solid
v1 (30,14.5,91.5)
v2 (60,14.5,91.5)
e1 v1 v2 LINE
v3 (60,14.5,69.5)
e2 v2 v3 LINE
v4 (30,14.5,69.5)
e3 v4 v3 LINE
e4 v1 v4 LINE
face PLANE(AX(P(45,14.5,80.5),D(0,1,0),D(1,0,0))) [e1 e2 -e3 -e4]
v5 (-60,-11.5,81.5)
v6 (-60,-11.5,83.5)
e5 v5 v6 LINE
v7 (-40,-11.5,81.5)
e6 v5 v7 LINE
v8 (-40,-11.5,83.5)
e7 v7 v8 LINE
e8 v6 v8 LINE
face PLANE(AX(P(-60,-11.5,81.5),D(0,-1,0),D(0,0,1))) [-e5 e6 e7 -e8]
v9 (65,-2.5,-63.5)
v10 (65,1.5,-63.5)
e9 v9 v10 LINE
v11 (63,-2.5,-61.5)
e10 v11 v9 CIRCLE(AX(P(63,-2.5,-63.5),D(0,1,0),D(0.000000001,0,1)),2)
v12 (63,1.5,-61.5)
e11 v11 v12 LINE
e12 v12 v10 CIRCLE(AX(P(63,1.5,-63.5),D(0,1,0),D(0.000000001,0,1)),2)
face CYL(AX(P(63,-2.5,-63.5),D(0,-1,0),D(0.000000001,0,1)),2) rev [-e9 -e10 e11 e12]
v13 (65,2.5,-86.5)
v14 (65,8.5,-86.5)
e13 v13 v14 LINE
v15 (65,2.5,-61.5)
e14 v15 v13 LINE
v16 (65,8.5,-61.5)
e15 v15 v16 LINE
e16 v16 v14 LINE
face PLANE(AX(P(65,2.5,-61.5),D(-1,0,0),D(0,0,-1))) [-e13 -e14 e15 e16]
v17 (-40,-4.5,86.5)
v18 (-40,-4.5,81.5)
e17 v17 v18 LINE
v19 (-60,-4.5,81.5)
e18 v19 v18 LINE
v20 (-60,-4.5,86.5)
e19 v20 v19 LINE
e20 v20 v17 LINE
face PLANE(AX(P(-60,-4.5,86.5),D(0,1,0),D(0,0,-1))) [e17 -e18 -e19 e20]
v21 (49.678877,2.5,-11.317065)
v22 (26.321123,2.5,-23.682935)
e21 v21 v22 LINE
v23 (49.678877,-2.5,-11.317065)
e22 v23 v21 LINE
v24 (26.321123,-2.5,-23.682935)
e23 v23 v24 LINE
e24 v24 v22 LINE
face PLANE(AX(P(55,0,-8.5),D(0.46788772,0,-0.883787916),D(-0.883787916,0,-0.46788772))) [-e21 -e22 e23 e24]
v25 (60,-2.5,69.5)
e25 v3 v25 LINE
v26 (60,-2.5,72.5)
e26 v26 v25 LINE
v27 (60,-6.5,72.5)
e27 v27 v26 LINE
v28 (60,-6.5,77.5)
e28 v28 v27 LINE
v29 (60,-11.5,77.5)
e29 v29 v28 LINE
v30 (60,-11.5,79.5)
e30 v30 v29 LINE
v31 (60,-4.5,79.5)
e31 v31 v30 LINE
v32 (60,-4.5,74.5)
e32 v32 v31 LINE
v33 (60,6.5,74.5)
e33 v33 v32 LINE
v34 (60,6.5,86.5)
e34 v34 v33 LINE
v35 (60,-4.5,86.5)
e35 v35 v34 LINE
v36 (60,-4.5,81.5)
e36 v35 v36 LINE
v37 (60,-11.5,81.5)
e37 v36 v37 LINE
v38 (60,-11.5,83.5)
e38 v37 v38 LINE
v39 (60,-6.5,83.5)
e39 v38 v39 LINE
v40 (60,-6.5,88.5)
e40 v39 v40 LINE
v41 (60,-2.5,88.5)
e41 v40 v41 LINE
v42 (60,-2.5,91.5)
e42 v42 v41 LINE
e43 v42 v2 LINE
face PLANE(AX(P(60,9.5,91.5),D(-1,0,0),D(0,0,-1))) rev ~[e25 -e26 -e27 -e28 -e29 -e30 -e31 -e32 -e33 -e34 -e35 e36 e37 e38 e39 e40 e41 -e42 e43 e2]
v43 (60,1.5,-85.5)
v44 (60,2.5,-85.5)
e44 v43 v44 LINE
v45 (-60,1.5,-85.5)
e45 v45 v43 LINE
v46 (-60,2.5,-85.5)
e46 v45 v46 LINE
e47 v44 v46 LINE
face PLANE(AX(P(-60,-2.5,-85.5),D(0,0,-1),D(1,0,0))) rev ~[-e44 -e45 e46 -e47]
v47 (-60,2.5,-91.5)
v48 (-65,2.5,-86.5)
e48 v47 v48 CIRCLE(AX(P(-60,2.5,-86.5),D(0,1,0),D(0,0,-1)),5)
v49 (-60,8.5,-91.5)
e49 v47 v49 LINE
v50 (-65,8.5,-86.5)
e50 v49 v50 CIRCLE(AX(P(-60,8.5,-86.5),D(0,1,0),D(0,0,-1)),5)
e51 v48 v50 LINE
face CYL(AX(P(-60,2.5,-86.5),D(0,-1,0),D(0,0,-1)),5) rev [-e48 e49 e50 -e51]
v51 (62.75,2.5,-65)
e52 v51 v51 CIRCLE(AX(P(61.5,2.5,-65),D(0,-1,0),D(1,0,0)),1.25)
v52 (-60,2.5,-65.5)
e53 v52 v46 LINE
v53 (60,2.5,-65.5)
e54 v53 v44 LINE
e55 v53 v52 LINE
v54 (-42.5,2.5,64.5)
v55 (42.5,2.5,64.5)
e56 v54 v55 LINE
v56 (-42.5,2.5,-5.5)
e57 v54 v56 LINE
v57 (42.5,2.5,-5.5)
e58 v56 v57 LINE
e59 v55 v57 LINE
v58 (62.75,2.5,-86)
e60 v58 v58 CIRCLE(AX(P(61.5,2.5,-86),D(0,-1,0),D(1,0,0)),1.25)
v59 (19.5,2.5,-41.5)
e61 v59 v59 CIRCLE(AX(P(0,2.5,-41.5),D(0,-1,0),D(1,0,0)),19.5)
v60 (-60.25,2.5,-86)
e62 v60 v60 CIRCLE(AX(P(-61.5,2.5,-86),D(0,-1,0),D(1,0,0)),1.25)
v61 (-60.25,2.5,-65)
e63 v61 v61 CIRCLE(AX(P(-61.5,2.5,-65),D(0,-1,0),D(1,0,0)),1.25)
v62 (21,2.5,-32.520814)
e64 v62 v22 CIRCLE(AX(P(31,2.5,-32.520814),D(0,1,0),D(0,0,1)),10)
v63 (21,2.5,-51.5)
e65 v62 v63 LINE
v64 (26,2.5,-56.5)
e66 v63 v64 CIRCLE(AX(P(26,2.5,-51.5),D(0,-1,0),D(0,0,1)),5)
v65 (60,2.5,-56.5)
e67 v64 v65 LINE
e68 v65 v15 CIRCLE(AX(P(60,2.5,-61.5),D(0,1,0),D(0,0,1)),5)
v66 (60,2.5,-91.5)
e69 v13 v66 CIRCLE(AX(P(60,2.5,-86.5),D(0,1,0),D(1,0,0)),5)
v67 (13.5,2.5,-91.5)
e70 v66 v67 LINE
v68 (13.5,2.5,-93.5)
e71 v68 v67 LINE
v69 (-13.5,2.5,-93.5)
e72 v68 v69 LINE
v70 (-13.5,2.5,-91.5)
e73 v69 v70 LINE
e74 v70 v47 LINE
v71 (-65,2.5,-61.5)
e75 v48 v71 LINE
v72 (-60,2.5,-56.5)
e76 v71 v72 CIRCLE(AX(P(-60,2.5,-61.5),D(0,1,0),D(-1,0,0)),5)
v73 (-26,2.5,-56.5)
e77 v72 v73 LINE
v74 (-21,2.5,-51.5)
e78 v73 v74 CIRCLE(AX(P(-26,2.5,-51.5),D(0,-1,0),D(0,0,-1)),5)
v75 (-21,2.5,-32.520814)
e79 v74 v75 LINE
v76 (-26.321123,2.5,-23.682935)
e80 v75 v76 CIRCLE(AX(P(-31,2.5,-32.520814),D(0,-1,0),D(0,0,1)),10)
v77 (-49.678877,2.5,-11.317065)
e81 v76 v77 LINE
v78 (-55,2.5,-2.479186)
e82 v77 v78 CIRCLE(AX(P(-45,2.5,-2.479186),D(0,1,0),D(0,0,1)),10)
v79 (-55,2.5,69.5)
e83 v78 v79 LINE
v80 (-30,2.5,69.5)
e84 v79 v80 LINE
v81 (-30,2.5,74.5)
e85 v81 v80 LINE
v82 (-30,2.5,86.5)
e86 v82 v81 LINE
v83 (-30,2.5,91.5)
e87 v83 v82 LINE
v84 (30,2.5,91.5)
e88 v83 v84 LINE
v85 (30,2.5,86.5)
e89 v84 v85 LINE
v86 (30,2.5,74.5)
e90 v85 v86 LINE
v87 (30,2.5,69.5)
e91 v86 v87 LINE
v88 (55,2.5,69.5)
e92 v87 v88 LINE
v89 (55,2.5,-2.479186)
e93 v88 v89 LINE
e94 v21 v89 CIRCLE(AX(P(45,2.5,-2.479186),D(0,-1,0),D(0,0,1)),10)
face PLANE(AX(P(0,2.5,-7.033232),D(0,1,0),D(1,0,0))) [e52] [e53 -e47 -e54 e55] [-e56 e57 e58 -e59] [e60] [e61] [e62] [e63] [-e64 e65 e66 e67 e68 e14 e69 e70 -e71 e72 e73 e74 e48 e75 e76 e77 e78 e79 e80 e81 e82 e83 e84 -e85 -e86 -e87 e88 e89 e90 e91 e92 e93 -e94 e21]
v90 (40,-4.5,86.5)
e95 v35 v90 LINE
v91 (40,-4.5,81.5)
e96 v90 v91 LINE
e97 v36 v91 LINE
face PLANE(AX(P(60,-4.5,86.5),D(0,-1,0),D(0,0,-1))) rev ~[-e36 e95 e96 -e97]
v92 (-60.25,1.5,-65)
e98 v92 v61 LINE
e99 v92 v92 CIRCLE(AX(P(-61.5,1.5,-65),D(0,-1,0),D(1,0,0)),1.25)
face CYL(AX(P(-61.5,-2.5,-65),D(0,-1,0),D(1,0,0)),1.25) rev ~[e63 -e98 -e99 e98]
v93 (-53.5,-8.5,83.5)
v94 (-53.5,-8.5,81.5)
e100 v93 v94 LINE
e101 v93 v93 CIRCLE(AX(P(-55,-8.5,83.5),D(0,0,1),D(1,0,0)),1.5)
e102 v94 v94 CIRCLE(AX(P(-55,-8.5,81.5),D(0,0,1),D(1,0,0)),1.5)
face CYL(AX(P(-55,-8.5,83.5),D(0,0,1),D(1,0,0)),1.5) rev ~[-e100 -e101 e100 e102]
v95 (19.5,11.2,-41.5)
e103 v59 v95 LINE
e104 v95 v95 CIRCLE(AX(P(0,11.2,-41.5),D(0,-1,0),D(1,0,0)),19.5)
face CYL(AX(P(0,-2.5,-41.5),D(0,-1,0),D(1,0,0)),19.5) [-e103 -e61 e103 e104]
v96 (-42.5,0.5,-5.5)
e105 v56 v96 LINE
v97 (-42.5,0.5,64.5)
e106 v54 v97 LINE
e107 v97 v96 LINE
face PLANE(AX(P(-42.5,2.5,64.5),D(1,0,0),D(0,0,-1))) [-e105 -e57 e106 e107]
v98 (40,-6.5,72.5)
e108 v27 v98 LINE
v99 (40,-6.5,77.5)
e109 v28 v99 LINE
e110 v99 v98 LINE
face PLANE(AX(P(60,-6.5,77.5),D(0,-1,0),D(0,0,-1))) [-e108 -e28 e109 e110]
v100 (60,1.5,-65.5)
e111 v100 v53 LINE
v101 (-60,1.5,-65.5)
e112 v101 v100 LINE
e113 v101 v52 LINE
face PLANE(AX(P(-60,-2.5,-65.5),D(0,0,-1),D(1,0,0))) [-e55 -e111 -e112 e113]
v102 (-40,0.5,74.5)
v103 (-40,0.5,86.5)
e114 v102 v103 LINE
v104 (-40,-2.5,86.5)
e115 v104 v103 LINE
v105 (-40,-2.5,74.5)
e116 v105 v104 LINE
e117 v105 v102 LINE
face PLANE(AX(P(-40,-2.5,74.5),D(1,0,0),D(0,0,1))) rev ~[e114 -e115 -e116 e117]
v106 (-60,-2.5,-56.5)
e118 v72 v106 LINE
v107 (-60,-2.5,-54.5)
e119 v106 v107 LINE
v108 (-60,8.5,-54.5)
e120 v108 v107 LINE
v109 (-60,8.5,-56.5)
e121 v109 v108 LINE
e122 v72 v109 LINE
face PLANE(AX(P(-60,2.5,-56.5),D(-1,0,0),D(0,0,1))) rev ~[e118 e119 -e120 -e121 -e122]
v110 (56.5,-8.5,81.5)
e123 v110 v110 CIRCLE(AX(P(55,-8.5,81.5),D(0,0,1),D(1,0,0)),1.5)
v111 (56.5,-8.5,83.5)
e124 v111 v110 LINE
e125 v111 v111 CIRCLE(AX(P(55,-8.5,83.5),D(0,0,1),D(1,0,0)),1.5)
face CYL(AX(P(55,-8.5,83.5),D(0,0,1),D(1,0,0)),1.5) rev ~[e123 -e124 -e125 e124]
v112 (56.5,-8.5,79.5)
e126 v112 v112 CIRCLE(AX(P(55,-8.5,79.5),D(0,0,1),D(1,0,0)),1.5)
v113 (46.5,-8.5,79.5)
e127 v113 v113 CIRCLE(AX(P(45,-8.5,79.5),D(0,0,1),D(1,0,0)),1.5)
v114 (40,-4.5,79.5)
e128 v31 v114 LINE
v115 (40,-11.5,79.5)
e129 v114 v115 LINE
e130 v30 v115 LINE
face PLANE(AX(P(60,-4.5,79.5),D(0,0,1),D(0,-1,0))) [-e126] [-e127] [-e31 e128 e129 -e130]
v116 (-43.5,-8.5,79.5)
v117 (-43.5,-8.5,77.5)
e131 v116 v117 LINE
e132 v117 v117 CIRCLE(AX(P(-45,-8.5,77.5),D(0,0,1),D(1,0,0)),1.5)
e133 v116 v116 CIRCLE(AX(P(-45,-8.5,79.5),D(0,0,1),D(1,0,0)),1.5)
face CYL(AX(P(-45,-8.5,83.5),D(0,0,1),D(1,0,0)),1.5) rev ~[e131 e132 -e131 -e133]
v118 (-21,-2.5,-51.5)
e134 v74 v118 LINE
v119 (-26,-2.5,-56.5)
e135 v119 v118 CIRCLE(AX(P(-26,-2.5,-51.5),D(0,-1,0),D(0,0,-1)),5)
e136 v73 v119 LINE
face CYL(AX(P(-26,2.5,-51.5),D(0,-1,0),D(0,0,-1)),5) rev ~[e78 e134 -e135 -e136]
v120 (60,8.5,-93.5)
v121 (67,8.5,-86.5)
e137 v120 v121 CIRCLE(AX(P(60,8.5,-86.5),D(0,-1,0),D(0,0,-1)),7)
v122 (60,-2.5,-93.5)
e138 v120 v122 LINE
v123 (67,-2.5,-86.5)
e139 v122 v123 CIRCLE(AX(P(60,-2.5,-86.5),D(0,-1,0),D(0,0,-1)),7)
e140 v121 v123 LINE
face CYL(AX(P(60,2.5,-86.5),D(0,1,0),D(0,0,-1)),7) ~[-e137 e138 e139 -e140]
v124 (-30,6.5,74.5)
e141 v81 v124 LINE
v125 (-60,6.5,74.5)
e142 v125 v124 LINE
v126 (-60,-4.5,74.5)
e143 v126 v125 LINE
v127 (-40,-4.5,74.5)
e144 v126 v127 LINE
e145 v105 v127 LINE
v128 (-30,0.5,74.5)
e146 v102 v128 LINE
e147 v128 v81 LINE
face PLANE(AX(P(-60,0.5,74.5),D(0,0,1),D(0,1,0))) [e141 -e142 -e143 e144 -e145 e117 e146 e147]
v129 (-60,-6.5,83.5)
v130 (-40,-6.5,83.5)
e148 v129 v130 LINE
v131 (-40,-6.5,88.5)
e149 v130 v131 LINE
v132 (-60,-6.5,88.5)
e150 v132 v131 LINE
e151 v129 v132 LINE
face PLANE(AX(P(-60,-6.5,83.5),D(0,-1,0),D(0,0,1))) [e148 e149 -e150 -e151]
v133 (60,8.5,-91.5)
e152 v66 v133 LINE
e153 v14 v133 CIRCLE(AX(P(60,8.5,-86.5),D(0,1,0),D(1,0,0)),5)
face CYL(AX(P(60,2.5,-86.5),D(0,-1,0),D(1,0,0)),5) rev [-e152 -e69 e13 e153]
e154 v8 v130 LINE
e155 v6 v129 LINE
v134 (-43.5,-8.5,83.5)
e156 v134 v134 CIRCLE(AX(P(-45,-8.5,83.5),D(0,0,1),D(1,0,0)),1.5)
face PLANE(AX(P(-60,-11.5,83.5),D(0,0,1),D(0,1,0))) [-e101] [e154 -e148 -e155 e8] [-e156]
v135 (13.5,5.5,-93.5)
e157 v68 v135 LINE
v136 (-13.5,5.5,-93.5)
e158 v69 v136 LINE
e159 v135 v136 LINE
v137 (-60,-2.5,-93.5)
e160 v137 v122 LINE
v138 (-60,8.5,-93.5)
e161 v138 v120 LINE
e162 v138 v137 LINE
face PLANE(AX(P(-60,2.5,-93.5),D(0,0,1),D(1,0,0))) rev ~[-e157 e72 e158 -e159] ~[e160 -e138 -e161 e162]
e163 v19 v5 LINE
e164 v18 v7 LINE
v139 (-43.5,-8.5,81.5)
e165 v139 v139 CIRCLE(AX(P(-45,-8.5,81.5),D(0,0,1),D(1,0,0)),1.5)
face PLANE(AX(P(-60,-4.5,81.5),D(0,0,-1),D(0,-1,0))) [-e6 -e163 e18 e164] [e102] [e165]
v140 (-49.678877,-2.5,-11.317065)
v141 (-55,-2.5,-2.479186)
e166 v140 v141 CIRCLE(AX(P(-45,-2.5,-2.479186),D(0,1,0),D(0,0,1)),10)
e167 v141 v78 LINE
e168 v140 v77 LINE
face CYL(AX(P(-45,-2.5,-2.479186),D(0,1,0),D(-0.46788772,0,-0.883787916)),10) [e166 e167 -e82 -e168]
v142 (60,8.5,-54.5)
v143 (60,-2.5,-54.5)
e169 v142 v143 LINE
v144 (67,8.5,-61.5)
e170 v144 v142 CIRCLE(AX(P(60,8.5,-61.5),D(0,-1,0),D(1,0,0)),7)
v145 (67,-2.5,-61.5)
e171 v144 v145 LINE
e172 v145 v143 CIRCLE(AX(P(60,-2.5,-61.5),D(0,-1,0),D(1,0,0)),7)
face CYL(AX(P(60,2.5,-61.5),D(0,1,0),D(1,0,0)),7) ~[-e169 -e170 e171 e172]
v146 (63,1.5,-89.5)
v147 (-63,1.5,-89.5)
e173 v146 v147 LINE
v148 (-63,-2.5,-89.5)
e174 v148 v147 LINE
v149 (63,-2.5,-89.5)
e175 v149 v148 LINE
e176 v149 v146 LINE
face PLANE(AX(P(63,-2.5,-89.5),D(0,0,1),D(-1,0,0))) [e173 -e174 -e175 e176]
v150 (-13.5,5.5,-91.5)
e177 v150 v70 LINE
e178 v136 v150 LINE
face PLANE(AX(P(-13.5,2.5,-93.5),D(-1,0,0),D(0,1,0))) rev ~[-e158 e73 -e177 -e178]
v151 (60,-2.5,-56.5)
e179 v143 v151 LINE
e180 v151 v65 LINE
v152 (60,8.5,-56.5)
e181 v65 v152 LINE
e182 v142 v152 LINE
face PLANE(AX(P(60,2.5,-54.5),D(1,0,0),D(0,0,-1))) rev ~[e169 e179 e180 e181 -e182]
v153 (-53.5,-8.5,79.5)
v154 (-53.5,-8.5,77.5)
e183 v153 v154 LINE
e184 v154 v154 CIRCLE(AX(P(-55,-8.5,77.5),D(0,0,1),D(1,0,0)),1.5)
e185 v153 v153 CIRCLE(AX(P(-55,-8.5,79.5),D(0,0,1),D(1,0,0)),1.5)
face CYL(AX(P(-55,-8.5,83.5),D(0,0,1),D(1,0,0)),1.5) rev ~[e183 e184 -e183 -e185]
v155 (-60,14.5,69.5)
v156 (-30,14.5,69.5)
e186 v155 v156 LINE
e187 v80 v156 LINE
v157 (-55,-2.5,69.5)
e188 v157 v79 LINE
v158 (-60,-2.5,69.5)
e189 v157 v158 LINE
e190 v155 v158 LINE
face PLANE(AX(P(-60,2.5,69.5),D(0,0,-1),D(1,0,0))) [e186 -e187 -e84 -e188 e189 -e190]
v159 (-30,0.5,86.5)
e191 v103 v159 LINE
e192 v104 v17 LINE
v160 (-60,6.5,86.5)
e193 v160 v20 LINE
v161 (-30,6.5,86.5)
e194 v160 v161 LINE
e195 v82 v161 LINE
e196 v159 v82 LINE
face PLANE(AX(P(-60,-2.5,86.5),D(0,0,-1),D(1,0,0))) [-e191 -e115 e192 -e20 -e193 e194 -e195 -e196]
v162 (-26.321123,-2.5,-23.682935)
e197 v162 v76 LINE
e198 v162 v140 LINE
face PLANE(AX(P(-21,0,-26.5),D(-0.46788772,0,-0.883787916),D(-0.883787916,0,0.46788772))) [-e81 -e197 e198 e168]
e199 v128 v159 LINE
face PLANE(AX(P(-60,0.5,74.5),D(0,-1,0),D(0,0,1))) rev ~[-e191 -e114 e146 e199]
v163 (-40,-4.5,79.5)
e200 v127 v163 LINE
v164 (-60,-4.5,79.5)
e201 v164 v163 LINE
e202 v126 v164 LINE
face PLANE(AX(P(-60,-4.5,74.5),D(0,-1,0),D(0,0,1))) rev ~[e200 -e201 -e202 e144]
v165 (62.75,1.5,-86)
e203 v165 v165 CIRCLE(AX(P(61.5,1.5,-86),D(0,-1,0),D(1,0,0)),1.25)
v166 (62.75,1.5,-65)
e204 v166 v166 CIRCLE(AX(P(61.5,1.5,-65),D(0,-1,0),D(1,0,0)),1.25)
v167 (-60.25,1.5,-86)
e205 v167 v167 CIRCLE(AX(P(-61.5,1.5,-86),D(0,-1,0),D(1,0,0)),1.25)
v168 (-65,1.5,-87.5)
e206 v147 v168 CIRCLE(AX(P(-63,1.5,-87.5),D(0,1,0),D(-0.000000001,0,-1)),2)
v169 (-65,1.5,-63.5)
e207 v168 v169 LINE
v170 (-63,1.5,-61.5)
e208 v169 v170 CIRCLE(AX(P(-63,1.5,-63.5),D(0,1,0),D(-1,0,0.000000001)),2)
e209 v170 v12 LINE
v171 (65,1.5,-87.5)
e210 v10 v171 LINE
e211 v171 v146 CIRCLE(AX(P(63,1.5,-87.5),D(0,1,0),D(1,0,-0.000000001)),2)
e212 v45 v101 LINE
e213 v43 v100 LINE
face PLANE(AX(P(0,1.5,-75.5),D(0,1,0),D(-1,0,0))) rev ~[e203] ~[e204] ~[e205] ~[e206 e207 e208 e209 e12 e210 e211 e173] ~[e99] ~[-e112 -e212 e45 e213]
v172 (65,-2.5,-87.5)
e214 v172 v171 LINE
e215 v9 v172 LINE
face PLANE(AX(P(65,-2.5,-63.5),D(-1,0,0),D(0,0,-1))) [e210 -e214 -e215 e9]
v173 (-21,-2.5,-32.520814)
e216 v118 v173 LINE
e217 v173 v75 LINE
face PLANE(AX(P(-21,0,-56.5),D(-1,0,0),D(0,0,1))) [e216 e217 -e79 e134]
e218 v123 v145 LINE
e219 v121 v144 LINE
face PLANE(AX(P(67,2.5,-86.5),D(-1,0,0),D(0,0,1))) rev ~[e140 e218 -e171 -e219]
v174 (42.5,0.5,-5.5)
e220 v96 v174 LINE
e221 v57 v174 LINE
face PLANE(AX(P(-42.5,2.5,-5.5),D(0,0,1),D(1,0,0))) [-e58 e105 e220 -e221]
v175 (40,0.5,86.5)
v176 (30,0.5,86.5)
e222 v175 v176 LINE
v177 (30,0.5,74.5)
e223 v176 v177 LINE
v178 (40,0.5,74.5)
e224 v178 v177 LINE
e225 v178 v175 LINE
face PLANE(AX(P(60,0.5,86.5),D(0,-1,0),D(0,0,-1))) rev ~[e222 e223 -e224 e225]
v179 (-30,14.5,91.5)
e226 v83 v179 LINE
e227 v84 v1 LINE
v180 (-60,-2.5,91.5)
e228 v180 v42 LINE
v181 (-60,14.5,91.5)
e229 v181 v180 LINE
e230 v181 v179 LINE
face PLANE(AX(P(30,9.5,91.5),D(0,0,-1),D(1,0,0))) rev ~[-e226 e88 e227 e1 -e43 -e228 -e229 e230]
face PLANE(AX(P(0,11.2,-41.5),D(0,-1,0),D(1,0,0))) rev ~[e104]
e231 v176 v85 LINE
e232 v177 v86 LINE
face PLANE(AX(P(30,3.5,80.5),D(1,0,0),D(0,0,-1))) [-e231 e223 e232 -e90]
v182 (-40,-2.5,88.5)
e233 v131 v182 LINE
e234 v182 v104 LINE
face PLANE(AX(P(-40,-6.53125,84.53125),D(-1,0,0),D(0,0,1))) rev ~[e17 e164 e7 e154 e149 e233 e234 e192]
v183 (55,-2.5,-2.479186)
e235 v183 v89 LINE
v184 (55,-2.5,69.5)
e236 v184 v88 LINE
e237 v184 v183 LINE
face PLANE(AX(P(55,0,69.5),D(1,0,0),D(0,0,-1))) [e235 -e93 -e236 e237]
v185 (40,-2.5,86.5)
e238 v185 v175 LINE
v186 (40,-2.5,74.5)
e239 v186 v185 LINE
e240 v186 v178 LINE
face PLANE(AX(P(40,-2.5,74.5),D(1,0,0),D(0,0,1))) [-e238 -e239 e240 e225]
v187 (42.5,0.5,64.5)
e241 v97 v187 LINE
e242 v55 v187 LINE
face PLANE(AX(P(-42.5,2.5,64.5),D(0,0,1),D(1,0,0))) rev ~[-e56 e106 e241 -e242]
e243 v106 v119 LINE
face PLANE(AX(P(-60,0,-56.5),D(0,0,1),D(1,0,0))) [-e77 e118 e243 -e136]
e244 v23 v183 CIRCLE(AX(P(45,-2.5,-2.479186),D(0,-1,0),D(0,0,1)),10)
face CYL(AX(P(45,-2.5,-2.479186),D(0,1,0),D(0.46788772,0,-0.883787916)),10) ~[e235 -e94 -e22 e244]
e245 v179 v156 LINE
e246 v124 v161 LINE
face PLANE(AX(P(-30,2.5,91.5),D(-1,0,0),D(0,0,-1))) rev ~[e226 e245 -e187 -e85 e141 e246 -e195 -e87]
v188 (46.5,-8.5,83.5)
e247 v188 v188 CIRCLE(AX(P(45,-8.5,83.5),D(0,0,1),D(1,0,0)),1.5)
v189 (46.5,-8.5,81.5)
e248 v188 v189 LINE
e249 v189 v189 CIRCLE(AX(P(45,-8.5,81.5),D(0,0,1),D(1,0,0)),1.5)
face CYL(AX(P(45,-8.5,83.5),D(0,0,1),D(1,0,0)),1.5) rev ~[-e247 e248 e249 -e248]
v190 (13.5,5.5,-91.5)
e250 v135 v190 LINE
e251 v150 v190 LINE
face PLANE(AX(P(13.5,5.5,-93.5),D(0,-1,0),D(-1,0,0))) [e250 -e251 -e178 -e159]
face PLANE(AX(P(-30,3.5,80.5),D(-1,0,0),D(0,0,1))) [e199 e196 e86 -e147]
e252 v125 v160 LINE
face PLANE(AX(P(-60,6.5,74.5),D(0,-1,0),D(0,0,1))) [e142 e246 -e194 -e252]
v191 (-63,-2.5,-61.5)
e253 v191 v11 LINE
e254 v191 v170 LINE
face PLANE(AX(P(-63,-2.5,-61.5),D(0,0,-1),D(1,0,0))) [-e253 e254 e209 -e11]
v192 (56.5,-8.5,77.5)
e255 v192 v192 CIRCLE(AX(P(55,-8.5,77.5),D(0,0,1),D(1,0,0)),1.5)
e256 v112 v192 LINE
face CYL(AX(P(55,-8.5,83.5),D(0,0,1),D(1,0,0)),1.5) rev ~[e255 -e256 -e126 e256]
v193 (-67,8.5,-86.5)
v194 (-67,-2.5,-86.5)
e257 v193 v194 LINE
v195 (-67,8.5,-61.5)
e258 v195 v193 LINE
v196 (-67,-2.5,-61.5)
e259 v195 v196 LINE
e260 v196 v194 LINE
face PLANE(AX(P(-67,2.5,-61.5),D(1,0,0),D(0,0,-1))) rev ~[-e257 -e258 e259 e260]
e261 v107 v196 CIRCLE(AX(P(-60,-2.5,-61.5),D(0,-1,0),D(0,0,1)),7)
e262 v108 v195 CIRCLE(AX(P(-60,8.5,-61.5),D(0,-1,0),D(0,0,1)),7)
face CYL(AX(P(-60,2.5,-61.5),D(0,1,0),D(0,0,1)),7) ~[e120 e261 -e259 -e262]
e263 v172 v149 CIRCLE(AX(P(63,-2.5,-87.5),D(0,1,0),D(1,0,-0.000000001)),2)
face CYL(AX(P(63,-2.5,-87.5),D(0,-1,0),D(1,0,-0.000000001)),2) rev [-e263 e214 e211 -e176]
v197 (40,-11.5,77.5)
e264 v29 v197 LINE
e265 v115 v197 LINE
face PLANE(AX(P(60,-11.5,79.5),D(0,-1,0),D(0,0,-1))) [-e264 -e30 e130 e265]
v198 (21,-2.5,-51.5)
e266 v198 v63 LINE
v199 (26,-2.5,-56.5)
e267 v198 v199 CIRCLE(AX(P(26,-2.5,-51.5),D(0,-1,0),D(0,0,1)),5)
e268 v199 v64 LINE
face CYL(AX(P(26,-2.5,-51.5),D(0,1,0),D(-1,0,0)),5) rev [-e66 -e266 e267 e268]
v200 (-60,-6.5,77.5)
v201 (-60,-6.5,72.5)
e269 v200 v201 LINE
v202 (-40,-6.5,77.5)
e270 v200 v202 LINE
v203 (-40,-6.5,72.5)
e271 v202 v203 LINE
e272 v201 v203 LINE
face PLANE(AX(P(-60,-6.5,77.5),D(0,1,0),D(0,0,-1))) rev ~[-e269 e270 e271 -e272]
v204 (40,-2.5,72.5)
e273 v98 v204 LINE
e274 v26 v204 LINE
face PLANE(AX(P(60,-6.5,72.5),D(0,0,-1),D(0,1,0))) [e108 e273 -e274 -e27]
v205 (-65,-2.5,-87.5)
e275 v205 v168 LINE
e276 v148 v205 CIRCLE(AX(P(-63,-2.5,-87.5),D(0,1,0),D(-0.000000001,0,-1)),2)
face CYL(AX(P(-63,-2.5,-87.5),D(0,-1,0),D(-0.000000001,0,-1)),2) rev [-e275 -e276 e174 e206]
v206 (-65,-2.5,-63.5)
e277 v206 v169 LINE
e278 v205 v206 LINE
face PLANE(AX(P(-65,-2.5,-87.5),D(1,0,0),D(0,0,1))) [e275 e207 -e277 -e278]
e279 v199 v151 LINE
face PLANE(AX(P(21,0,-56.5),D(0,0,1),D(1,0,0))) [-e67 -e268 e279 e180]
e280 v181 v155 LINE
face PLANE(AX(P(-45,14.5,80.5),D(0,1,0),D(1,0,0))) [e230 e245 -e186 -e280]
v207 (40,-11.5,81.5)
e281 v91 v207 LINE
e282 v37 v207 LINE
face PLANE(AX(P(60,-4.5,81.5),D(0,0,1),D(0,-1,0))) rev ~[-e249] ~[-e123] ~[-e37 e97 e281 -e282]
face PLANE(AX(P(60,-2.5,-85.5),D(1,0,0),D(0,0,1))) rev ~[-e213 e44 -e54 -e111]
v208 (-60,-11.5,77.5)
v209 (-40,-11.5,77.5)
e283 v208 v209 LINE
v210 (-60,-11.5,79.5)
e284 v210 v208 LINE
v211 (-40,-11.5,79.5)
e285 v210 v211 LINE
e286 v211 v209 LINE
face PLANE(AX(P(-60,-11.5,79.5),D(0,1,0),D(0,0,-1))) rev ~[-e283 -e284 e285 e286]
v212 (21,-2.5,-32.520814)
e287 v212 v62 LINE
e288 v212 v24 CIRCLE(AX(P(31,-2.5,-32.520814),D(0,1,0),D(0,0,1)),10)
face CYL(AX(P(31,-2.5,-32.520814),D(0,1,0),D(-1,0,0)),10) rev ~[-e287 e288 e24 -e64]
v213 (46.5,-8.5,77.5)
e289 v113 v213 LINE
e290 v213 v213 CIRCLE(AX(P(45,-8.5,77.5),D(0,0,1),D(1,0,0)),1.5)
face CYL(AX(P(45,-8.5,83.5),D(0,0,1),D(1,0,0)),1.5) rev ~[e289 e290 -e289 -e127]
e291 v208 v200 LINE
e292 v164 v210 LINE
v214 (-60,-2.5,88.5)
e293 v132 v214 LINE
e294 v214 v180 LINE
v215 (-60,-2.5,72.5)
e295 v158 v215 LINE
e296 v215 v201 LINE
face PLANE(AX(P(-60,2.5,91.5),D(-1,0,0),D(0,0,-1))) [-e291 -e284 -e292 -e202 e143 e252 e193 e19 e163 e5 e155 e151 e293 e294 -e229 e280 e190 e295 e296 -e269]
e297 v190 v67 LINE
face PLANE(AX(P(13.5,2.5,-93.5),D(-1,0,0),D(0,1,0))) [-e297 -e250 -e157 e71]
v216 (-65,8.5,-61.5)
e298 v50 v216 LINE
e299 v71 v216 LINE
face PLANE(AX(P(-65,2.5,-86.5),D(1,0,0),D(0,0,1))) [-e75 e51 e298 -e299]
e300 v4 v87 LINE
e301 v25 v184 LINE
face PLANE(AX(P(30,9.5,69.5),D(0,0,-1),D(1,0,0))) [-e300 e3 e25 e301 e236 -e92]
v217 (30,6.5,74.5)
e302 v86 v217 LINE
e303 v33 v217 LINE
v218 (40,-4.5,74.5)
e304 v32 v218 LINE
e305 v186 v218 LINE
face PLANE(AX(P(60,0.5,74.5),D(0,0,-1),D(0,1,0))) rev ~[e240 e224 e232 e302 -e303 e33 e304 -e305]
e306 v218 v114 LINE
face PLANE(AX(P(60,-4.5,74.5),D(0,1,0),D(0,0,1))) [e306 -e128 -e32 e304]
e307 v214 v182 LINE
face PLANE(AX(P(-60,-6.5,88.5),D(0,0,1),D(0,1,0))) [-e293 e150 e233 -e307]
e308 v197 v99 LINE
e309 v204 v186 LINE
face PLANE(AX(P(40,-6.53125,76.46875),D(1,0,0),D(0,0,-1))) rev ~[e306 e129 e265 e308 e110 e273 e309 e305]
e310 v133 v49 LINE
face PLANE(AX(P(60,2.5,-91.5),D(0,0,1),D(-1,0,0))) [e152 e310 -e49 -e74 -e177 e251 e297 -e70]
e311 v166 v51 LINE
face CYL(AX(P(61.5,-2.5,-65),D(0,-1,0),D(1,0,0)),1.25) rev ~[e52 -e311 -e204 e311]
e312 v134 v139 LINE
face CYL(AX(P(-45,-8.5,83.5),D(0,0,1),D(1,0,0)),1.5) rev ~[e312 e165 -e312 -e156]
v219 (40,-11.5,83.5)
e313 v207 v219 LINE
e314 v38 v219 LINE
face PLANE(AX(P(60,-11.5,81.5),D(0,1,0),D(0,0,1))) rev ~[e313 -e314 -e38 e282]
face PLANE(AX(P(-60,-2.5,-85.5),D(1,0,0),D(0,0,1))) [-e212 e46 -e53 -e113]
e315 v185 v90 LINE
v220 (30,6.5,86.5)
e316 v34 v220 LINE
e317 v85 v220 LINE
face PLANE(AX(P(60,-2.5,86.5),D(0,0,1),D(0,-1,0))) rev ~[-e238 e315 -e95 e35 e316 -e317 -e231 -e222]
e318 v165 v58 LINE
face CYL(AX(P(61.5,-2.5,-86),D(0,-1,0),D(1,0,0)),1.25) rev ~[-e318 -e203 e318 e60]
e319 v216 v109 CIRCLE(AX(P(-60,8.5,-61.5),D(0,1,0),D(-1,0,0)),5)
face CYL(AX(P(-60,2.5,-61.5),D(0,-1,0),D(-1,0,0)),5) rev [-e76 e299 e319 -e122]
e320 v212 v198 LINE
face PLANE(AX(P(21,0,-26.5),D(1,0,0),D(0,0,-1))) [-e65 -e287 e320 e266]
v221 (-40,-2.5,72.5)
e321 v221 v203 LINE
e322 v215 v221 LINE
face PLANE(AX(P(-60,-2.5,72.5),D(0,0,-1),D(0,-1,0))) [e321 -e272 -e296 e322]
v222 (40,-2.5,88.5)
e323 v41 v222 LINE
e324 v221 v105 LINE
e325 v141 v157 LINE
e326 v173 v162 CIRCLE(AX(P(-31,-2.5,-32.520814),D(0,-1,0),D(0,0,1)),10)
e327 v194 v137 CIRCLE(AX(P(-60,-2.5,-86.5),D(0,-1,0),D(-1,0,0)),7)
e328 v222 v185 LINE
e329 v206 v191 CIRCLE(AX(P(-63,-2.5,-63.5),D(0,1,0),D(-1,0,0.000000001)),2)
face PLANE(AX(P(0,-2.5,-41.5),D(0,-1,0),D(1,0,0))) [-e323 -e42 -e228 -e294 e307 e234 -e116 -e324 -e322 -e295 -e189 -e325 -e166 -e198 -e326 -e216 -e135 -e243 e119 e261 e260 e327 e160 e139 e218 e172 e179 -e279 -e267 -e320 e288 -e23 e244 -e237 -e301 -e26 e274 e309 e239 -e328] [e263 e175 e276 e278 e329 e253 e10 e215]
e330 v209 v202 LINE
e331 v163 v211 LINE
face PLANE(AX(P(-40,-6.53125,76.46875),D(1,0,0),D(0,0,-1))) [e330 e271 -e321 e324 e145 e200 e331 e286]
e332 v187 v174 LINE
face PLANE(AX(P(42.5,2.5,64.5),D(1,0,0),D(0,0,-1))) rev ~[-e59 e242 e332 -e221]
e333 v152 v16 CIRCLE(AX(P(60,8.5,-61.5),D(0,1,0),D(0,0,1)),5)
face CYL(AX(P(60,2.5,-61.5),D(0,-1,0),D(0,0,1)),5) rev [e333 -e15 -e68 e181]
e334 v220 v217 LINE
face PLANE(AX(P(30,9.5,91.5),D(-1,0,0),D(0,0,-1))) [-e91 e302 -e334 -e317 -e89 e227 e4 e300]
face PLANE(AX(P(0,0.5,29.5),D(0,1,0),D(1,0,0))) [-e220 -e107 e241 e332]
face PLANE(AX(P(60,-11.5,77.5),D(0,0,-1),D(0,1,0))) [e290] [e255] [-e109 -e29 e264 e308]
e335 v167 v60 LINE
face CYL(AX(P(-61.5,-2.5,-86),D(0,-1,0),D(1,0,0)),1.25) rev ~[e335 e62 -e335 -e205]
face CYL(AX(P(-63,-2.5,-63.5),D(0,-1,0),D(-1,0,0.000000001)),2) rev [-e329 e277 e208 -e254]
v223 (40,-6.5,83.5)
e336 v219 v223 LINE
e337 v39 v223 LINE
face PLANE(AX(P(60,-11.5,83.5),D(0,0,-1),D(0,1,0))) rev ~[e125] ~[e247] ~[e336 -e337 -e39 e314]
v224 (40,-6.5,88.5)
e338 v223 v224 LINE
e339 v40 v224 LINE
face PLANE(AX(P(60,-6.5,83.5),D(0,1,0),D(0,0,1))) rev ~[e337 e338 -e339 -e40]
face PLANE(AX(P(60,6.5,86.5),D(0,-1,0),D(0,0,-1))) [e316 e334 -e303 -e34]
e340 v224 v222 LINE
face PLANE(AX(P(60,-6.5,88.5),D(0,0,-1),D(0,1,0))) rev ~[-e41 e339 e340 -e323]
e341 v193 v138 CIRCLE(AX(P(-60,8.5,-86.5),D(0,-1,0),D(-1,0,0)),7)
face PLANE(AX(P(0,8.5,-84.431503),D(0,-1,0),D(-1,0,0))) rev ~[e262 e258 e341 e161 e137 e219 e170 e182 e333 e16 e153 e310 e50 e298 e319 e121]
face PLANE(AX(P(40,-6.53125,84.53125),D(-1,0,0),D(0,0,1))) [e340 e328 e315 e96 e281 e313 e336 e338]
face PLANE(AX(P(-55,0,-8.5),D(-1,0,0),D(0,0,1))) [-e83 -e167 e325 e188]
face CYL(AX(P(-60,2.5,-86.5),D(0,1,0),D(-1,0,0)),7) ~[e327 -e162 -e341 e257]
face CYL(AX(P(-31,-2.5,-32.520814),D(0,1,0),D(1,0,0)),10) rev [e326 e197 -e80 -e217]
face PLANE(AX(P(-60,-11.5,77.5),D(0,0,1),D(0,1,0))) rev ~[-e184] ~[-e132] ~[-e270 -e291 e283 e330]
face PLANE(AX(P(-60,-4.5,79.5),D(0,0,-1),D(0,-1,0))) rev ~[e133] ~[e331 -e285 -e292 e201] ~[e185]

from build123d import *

# Parameters (mm, degrees)
BOSS_EXTRUDE1_DEPTH      = 2.5
SKETCH2_W                = 20
SKETCH2_H                = 12
CUT_EXTRUDE1_DEPTH       = 3
BOSS_EXTRUDE3_DEPTH      = 6
BOSS_EXTRUDE3_DEPTH_BACK = 5
BOSS_EXTRUDE4_DEPTH      = 20
BOSS_EXTRUDE5_DEPTH      = 20
SKETCH14_R               = 1.5
CUT_EXTRUDE6_DEPTH       = 178
SKETCH11_W               = 27
SKETCH11_H               = 3
CUT_EXTRUDE7_DEPTH       = 10
SKETCH15_R               = 1.25
SKETCH15_W               = 120
SKETCH15_H               = 20
CUT_EXTRUDE8_DEPTH       = 12
SKETCH15_3_R             = 1.25
SKETCH15_3_W             = 120
SKETCH15_3_H             = 20
CUT_EXTRUDE9_DEPTH       = 4
SKETCH17_W               = 30
SKETCH17_H               = 22
BOSS_EXTRUDE6_DEPTH      = 7
SKETCH18_W               = 12
SKETCH18_H               = 6
CUT_EXTRUDE11_DEPTH      = 30
SKETCH19_W               = 12
SKETCH19_H               = 6
CUT_EXTRUDE12_DEPTH      = 30
SKETCH16_W               = 85
SKETCH16_H               = 70
CUT_EXTRUDE13_DEPTH      = 2
SKETCH20_R               = 19.5
BOSS_EXTRUDE7_DEPTH      = 13.7
FILLET1_R                = 10
FILLET2_R                = 5
SKETCH21_W               = 30
SKETCH21_H               = 22
BOSS_EXTRUDE8_DEPTH      = 5


with BuildPart() as part:
    # Sketch1 → Boss-Extrude1 (new body, symmetric)
    with BuildSketch(Plane(origin=(0, 0, 0), x_dir=(1, 0, 0), z_dir=(0, 1, 0))):
        with BuildLine():
            Line((-21, 56.5), (-21, 26.5))
            Line((-21, 26.5), (-55, 8.5))
            Line((-55, 8.5), (-55, -69.5))
            Line((-55, -69.5), (-60, -69.5))
            Line((-60, -69.5), (-60, -91.5))
            Line((-60, -91.5), (60, -91.5))
            Line((60, -91.5), (60, -69.5))
            Line((60, -69.5), (55, -69.5))
            Line((55, -69.5), (55, 8.5))
            Line((55, 8.5), (21, 26.5))
            Line((21, 26.5), (21, 56.5))
            Line((21, 56.5), (60, 56.5))
            ThreePointArc((60, 56.5), (63.535533906, 57.964466094), (65, 61.5))
            Line((65, 61.5), (65, 86.5))
            ThreePointArc((65, 86.5), (63.535533906, 90.035533906), (60, 91.5))
            Line((60, 91.5), (-60, 91.5))
            ThreePointArc((-60, 91.5), (-63.535533906, 90.035533906), (-65, 86.5))
            Line((-65, 86.5), (-65, 61.5))
            ThreePointArc((-65, 61.5), (-63.535533906, 57.964466094), (-60, 56.5))
            Line((-60, 56.5), (-21, 56.5))
        make_face()
    extrude(amount=BOSS_EXTRUDE1_DEPTH, both=True)

    # Sketch2 → Cut-Extrude1 (cut)
    with BuildSketch(Plane.XZ.offset(2.5)):
        with Locations((-50, 80.5)):
            Rectangle(SKETCH2_W, SKETCH2_H)
        with Locations((50, 80.5)):
            Rectangle(SKETCH2_W, SKETCH2_H)
    extrude(amount=-CUT_EXTRUDE1_DEPTH, mode=Mode.SUBTRACT)

    # Sketch5 → Boss-Extrude3 (add, two sides)
    with BuildSketch(Plane(origin=(0, 2.5, 0), x_dir=(1, 0, 0), z_dir=(0, 1, 0))) as boss_extrude3_sk:
        with BuildLine():
            Line((-60, 56.5), (-60, 54.5))
            ThreePointArc((-60, 54.5), (-64.949747468, 56.550252532), (-67, 61.5))
            Line((-67, 61.5), (-67, 86.5))
            ThreePointArc((-67, 86.5), (-64.949747468, 91.449747468), (-60, 93.5))
            Line((-60, 93.5), (60, 93.5))
            ThreePointArc((60, 93.5), (64.949747468, 91.449747468), (67, 86.5))
            Line((67, 86.5), (67, 61.5))
            ThreePointArc((67, 61.5), (64.949747468, 56.550252532), (60, 54.5))
            Line((60, 54.5), (60, 56.5))
            ThreePointArc((60, 56.5), (63.535533906, 57.964466094), (65, 61.5))
            Line((65, 61.5), (65, 86.5))
            ThreePointArc((65, 86.5), (63.535533906, 90.035533906), (60, 91.5))
            Line((60, 91.5), (-60, 91.5))
            ThreePointArc((-60, 91.5), (-63.535533906, 90.035533906), (-65, 86.5))
            Line((-65, 86.5), (-65, 61.5))
            ThreePointArc((-65, 61.5), (-63.535533906, 57.964466094), (-60, 56.5))
        make_face()
    extrude(amount=BOSS_EXTRUDE3_DEPTH)
    extrude(boss_extrude3_sk.sketch, amount=-BOSS_EXTRUDE3_DEPTH_BACK)

    # Sketch12 → Boss-Extrude4 (add)
    with BuildSketch(Plane.ZY.offset(60)):
        Polygon((74.5, -2.5), (74.5, -4.5), (79.5, -4.5), (79.5, -11.5), (77.5, -11.5), (77.5, -6.5), (72.5, -6.5), (72.5, -4.5), (72.5, -2.5), align=None)
        Polygon((81.5, -11.5), (83.5, -11.5), (83.5, -6.5), (88.5, -6.5), (88.5, -4.5), (88.5, -2.5), (86.5, -2.5), (86.5, -4.5), (81.5, -4.5), align=None)
    extrude(amount=-BOSS_EXTRUDE4_DEPTH)

    # Sketch13 → Boss-Extrude5 (add)
    with BuildSketch(Plane(origin=(60, 0, 0), x_dir=(0, 0, -1), z_dir=(1, 0, 0))):
        Polygon((-86.5, -2.5), (-86.5, -4.5), (-81.5, -4.5), (-81.5, -11.5), (-83.5, -11.5), (-83.5, -6.5), (-88.5, -6.5), (-88.5, -2.5), align=None)
        Polygon((-79.5, -11.5), (-77.5, -11.5), (-77.5, -6.5), (-72.5, -6.5), (-72.5, -2.5), (-74.5, -2.5), (-74.5, -4.5), (-79.5, -4.5), align=None)
    extrude(amount=-BOSS_EXTRUDE5_DEPTH)

    # Sketch14 → Cut-Extrude6 (cut, through all)
    with BuildSketch(Plane.XY.offset(83.5)):
        with Locations((45, -8.5)):
            Circle(SKETCH14_R)
        with Locations((55, -8.5)):
            Circle(SKETCH14_R)
        with Locations((-55, -8.5)):
            Circle(SKETCH14_R)
        with Locations((-45, -8.5)):
            Circle(SKETCH14_R)
    extrude(amount=-CUT_EXTRUDE6_DEPTH, mode=Mode.SUBTRACT)

    # Sketch11 → Cut-Extrude7 (cut)
    with BuildSketch(Plane(origin=(0, 0, -93.5), x_dir=(-1, 0, 0), z_dir=(0, 0, -1))):
        with Locations((0, 4)):
            Rectangle(SKETCH11_W, SKETCH11_H)
    extrude(amount=-CUT_EXTRUDE7_DEPTH, mode=Mode.SUBTRACT)

    # Sketch15 → Cut-Extrude8 (cut, through all)
    with BuildSketch(Plane.XZ.offset(2.5)):
        with Locations((-61.5, -65)):
            Circle(SKETCH15_R)
        with Locations((61.5, -65)):
            Circle(SKETCH15_R)
        with Locations((61.5, -86)):
            Circle(SKETCH15_R)
        with Locations((-61.5, -86)):
            Circle(SKETCH15_R)
        with Locations((0, -75.5)):
            Rectangle(SKETCH15_W, SKETCH15_H)
    extrude(amount=-CUT_EXTRUDE8_DEPTH, mode=Mode.SUBTRACT)

    # Sketch15_3 → Cut-Extrude9 (cut)
    with BuildSketch(Plane.XZ.offset(2.5)):
        with BuildLine():
            Line((-63, -61.5), (63, -61.5))
            ThreePointArc((63, -61.5), (64.414213562, -62.085786438), (65, -63.5))
            Line((65, -63.5), (65, -87.5))
            ThreePointArc((65, -87.5), (64.414213562, -88.914213562), (63, -89.5))
            Line((63, -89.5), (-63, -89.5))
            ThreePointArc((-63, -89.5), (-64.414213562, -88.914213562), (-65, -87.5))
            Line((-65, -87.5), (-65, -63.5))
            ThreePointArc((-65, -63.5), (-64.414213562, -62.085786438), (-63, -61.5))
        make_face()
        with Locations((61.5, -65)):
            Circle(SKETCH15_3_R, mode=Mode.SUBTRACT)
        with Locations((-61.5, -65)):
            Circle(SKETCH15_3_R, mode=Mode.SUBTRACT)
        with Locations((61.5, -86)):
            Circle(SKETCH15_3_R, mode=Mode.SUBTRACT)
        with Locations((-61.5, -86)):
            Circle(SKETCH15_3_R, mode=Mode.SUBTRACT)
        with Locations((0, -75.5)):
            Rectangle(SKETCH15_3_W, SKETCH15_3_H, mode=Mode.SUBTRACT)
    extrude(amount=-CUT_EXTRUDE9_DEPTH, mode=Mode.SUBTRACT)

    # Sketch17 → Boss-Extrude6 (add)
    with BuildSketch(Plane(origin=(0, 2.5, 0), x_dir=(1, 0, 0), z_dir=(0, 1, 0))):
        with Locations((-45, -80.5)):
            Rectangle(SKETCH17_W, SKETCH17_H)
        with Locations((45, -80.5)):
            Rectangle(SKETCH17_W, SKETCH17_H)
    extrude(amount=BOSS_EXTRUDE6_DEPTH)

    # Sketch18 → Cut-Extrude11 (cut)
    with BuildSketch(Plane(origin=(60, 0, 0), x_dir=(0, 0, -1), z_dir=(1, 0, 0))):
        with Locations((-80.5, 3.5)):
            Rectangle(SKETCH18_W, SKETCH18_H)
    extrude(amount=-CUT_EXTRUDE11_DEPTH, mode=Mode.SUBTRACT)

    # Sketch19 → Cut-Extrude12 (cut)
    with BuildSketch(Plane.ZY.offset(60)):
        with Locations((80.5, 3.5)):
            Rectangle(SKETCH19_W, SKETCH19_H)
    extrude(amount=-CUT_EXTRUDE12_DEPTH, mode=Mode.SUBTRACT)

    # Sketch16 → Cut-Extrude13 (cut)
    with BuildSketch(Plane(origin=(0, 2.5, 0), x_dir=(1, 0, 0), z_dir=(0, 1, 0))):
        with Locations((0, -29.5)):
            Rectangle(SKETCH16_W, SKETCH16_H)
    extrude(amount=-CUT_EXTRUDE13_DEPTH, mode=Mode.SUBTRACT)

    # Sketch20 → Boss-Extrude7 (add)
    with BuildSketch(Plane.XZ.offset(2.5)):
        with Locations((0, -41.5)):
            Circle(SKETCH20_R)
    extrude(amount=-BOSS_EXTRUDE7_DEPTH)

    # Fillet1
    fillet1_edges = [part.edges().sort_by_distance(p)[0] for p in [
        (21, 0, -26.5),
        (55, 0, -8.5),
        (-55, 0, -8.5),
        (-21, 0, -26.5),
    ]]
    fillet(fillet1_edges, radius=FILLET1_R)

    # Fillet2
    fillet2_edges = [part.edges().sort_by_distance(p)[0] for p in [
        (21, 0, -56.5),
        (-21, 0, -56.5),
    ]]
    fillet(fillet2_edges, radius=FILLET2_R)

    # Sketch21 → Boss-Extrude8 (add)
    with BuildSketch(Plane(origin=(0, 9.5, 0), x_dir=(1, 0, 0), z_dir=(0, 1, 0))):
        with Locations((45, -80.5)):
            Rectangle(SKETCH21_W, SKETCH21_H)
        with Locations((-45, -80.5)):
            Rectangle(SKETCH21_W, SKETCH21_H)
    extrude(amount=BOSS_EXTRUDE8_DEPTH)


solid = part.part
